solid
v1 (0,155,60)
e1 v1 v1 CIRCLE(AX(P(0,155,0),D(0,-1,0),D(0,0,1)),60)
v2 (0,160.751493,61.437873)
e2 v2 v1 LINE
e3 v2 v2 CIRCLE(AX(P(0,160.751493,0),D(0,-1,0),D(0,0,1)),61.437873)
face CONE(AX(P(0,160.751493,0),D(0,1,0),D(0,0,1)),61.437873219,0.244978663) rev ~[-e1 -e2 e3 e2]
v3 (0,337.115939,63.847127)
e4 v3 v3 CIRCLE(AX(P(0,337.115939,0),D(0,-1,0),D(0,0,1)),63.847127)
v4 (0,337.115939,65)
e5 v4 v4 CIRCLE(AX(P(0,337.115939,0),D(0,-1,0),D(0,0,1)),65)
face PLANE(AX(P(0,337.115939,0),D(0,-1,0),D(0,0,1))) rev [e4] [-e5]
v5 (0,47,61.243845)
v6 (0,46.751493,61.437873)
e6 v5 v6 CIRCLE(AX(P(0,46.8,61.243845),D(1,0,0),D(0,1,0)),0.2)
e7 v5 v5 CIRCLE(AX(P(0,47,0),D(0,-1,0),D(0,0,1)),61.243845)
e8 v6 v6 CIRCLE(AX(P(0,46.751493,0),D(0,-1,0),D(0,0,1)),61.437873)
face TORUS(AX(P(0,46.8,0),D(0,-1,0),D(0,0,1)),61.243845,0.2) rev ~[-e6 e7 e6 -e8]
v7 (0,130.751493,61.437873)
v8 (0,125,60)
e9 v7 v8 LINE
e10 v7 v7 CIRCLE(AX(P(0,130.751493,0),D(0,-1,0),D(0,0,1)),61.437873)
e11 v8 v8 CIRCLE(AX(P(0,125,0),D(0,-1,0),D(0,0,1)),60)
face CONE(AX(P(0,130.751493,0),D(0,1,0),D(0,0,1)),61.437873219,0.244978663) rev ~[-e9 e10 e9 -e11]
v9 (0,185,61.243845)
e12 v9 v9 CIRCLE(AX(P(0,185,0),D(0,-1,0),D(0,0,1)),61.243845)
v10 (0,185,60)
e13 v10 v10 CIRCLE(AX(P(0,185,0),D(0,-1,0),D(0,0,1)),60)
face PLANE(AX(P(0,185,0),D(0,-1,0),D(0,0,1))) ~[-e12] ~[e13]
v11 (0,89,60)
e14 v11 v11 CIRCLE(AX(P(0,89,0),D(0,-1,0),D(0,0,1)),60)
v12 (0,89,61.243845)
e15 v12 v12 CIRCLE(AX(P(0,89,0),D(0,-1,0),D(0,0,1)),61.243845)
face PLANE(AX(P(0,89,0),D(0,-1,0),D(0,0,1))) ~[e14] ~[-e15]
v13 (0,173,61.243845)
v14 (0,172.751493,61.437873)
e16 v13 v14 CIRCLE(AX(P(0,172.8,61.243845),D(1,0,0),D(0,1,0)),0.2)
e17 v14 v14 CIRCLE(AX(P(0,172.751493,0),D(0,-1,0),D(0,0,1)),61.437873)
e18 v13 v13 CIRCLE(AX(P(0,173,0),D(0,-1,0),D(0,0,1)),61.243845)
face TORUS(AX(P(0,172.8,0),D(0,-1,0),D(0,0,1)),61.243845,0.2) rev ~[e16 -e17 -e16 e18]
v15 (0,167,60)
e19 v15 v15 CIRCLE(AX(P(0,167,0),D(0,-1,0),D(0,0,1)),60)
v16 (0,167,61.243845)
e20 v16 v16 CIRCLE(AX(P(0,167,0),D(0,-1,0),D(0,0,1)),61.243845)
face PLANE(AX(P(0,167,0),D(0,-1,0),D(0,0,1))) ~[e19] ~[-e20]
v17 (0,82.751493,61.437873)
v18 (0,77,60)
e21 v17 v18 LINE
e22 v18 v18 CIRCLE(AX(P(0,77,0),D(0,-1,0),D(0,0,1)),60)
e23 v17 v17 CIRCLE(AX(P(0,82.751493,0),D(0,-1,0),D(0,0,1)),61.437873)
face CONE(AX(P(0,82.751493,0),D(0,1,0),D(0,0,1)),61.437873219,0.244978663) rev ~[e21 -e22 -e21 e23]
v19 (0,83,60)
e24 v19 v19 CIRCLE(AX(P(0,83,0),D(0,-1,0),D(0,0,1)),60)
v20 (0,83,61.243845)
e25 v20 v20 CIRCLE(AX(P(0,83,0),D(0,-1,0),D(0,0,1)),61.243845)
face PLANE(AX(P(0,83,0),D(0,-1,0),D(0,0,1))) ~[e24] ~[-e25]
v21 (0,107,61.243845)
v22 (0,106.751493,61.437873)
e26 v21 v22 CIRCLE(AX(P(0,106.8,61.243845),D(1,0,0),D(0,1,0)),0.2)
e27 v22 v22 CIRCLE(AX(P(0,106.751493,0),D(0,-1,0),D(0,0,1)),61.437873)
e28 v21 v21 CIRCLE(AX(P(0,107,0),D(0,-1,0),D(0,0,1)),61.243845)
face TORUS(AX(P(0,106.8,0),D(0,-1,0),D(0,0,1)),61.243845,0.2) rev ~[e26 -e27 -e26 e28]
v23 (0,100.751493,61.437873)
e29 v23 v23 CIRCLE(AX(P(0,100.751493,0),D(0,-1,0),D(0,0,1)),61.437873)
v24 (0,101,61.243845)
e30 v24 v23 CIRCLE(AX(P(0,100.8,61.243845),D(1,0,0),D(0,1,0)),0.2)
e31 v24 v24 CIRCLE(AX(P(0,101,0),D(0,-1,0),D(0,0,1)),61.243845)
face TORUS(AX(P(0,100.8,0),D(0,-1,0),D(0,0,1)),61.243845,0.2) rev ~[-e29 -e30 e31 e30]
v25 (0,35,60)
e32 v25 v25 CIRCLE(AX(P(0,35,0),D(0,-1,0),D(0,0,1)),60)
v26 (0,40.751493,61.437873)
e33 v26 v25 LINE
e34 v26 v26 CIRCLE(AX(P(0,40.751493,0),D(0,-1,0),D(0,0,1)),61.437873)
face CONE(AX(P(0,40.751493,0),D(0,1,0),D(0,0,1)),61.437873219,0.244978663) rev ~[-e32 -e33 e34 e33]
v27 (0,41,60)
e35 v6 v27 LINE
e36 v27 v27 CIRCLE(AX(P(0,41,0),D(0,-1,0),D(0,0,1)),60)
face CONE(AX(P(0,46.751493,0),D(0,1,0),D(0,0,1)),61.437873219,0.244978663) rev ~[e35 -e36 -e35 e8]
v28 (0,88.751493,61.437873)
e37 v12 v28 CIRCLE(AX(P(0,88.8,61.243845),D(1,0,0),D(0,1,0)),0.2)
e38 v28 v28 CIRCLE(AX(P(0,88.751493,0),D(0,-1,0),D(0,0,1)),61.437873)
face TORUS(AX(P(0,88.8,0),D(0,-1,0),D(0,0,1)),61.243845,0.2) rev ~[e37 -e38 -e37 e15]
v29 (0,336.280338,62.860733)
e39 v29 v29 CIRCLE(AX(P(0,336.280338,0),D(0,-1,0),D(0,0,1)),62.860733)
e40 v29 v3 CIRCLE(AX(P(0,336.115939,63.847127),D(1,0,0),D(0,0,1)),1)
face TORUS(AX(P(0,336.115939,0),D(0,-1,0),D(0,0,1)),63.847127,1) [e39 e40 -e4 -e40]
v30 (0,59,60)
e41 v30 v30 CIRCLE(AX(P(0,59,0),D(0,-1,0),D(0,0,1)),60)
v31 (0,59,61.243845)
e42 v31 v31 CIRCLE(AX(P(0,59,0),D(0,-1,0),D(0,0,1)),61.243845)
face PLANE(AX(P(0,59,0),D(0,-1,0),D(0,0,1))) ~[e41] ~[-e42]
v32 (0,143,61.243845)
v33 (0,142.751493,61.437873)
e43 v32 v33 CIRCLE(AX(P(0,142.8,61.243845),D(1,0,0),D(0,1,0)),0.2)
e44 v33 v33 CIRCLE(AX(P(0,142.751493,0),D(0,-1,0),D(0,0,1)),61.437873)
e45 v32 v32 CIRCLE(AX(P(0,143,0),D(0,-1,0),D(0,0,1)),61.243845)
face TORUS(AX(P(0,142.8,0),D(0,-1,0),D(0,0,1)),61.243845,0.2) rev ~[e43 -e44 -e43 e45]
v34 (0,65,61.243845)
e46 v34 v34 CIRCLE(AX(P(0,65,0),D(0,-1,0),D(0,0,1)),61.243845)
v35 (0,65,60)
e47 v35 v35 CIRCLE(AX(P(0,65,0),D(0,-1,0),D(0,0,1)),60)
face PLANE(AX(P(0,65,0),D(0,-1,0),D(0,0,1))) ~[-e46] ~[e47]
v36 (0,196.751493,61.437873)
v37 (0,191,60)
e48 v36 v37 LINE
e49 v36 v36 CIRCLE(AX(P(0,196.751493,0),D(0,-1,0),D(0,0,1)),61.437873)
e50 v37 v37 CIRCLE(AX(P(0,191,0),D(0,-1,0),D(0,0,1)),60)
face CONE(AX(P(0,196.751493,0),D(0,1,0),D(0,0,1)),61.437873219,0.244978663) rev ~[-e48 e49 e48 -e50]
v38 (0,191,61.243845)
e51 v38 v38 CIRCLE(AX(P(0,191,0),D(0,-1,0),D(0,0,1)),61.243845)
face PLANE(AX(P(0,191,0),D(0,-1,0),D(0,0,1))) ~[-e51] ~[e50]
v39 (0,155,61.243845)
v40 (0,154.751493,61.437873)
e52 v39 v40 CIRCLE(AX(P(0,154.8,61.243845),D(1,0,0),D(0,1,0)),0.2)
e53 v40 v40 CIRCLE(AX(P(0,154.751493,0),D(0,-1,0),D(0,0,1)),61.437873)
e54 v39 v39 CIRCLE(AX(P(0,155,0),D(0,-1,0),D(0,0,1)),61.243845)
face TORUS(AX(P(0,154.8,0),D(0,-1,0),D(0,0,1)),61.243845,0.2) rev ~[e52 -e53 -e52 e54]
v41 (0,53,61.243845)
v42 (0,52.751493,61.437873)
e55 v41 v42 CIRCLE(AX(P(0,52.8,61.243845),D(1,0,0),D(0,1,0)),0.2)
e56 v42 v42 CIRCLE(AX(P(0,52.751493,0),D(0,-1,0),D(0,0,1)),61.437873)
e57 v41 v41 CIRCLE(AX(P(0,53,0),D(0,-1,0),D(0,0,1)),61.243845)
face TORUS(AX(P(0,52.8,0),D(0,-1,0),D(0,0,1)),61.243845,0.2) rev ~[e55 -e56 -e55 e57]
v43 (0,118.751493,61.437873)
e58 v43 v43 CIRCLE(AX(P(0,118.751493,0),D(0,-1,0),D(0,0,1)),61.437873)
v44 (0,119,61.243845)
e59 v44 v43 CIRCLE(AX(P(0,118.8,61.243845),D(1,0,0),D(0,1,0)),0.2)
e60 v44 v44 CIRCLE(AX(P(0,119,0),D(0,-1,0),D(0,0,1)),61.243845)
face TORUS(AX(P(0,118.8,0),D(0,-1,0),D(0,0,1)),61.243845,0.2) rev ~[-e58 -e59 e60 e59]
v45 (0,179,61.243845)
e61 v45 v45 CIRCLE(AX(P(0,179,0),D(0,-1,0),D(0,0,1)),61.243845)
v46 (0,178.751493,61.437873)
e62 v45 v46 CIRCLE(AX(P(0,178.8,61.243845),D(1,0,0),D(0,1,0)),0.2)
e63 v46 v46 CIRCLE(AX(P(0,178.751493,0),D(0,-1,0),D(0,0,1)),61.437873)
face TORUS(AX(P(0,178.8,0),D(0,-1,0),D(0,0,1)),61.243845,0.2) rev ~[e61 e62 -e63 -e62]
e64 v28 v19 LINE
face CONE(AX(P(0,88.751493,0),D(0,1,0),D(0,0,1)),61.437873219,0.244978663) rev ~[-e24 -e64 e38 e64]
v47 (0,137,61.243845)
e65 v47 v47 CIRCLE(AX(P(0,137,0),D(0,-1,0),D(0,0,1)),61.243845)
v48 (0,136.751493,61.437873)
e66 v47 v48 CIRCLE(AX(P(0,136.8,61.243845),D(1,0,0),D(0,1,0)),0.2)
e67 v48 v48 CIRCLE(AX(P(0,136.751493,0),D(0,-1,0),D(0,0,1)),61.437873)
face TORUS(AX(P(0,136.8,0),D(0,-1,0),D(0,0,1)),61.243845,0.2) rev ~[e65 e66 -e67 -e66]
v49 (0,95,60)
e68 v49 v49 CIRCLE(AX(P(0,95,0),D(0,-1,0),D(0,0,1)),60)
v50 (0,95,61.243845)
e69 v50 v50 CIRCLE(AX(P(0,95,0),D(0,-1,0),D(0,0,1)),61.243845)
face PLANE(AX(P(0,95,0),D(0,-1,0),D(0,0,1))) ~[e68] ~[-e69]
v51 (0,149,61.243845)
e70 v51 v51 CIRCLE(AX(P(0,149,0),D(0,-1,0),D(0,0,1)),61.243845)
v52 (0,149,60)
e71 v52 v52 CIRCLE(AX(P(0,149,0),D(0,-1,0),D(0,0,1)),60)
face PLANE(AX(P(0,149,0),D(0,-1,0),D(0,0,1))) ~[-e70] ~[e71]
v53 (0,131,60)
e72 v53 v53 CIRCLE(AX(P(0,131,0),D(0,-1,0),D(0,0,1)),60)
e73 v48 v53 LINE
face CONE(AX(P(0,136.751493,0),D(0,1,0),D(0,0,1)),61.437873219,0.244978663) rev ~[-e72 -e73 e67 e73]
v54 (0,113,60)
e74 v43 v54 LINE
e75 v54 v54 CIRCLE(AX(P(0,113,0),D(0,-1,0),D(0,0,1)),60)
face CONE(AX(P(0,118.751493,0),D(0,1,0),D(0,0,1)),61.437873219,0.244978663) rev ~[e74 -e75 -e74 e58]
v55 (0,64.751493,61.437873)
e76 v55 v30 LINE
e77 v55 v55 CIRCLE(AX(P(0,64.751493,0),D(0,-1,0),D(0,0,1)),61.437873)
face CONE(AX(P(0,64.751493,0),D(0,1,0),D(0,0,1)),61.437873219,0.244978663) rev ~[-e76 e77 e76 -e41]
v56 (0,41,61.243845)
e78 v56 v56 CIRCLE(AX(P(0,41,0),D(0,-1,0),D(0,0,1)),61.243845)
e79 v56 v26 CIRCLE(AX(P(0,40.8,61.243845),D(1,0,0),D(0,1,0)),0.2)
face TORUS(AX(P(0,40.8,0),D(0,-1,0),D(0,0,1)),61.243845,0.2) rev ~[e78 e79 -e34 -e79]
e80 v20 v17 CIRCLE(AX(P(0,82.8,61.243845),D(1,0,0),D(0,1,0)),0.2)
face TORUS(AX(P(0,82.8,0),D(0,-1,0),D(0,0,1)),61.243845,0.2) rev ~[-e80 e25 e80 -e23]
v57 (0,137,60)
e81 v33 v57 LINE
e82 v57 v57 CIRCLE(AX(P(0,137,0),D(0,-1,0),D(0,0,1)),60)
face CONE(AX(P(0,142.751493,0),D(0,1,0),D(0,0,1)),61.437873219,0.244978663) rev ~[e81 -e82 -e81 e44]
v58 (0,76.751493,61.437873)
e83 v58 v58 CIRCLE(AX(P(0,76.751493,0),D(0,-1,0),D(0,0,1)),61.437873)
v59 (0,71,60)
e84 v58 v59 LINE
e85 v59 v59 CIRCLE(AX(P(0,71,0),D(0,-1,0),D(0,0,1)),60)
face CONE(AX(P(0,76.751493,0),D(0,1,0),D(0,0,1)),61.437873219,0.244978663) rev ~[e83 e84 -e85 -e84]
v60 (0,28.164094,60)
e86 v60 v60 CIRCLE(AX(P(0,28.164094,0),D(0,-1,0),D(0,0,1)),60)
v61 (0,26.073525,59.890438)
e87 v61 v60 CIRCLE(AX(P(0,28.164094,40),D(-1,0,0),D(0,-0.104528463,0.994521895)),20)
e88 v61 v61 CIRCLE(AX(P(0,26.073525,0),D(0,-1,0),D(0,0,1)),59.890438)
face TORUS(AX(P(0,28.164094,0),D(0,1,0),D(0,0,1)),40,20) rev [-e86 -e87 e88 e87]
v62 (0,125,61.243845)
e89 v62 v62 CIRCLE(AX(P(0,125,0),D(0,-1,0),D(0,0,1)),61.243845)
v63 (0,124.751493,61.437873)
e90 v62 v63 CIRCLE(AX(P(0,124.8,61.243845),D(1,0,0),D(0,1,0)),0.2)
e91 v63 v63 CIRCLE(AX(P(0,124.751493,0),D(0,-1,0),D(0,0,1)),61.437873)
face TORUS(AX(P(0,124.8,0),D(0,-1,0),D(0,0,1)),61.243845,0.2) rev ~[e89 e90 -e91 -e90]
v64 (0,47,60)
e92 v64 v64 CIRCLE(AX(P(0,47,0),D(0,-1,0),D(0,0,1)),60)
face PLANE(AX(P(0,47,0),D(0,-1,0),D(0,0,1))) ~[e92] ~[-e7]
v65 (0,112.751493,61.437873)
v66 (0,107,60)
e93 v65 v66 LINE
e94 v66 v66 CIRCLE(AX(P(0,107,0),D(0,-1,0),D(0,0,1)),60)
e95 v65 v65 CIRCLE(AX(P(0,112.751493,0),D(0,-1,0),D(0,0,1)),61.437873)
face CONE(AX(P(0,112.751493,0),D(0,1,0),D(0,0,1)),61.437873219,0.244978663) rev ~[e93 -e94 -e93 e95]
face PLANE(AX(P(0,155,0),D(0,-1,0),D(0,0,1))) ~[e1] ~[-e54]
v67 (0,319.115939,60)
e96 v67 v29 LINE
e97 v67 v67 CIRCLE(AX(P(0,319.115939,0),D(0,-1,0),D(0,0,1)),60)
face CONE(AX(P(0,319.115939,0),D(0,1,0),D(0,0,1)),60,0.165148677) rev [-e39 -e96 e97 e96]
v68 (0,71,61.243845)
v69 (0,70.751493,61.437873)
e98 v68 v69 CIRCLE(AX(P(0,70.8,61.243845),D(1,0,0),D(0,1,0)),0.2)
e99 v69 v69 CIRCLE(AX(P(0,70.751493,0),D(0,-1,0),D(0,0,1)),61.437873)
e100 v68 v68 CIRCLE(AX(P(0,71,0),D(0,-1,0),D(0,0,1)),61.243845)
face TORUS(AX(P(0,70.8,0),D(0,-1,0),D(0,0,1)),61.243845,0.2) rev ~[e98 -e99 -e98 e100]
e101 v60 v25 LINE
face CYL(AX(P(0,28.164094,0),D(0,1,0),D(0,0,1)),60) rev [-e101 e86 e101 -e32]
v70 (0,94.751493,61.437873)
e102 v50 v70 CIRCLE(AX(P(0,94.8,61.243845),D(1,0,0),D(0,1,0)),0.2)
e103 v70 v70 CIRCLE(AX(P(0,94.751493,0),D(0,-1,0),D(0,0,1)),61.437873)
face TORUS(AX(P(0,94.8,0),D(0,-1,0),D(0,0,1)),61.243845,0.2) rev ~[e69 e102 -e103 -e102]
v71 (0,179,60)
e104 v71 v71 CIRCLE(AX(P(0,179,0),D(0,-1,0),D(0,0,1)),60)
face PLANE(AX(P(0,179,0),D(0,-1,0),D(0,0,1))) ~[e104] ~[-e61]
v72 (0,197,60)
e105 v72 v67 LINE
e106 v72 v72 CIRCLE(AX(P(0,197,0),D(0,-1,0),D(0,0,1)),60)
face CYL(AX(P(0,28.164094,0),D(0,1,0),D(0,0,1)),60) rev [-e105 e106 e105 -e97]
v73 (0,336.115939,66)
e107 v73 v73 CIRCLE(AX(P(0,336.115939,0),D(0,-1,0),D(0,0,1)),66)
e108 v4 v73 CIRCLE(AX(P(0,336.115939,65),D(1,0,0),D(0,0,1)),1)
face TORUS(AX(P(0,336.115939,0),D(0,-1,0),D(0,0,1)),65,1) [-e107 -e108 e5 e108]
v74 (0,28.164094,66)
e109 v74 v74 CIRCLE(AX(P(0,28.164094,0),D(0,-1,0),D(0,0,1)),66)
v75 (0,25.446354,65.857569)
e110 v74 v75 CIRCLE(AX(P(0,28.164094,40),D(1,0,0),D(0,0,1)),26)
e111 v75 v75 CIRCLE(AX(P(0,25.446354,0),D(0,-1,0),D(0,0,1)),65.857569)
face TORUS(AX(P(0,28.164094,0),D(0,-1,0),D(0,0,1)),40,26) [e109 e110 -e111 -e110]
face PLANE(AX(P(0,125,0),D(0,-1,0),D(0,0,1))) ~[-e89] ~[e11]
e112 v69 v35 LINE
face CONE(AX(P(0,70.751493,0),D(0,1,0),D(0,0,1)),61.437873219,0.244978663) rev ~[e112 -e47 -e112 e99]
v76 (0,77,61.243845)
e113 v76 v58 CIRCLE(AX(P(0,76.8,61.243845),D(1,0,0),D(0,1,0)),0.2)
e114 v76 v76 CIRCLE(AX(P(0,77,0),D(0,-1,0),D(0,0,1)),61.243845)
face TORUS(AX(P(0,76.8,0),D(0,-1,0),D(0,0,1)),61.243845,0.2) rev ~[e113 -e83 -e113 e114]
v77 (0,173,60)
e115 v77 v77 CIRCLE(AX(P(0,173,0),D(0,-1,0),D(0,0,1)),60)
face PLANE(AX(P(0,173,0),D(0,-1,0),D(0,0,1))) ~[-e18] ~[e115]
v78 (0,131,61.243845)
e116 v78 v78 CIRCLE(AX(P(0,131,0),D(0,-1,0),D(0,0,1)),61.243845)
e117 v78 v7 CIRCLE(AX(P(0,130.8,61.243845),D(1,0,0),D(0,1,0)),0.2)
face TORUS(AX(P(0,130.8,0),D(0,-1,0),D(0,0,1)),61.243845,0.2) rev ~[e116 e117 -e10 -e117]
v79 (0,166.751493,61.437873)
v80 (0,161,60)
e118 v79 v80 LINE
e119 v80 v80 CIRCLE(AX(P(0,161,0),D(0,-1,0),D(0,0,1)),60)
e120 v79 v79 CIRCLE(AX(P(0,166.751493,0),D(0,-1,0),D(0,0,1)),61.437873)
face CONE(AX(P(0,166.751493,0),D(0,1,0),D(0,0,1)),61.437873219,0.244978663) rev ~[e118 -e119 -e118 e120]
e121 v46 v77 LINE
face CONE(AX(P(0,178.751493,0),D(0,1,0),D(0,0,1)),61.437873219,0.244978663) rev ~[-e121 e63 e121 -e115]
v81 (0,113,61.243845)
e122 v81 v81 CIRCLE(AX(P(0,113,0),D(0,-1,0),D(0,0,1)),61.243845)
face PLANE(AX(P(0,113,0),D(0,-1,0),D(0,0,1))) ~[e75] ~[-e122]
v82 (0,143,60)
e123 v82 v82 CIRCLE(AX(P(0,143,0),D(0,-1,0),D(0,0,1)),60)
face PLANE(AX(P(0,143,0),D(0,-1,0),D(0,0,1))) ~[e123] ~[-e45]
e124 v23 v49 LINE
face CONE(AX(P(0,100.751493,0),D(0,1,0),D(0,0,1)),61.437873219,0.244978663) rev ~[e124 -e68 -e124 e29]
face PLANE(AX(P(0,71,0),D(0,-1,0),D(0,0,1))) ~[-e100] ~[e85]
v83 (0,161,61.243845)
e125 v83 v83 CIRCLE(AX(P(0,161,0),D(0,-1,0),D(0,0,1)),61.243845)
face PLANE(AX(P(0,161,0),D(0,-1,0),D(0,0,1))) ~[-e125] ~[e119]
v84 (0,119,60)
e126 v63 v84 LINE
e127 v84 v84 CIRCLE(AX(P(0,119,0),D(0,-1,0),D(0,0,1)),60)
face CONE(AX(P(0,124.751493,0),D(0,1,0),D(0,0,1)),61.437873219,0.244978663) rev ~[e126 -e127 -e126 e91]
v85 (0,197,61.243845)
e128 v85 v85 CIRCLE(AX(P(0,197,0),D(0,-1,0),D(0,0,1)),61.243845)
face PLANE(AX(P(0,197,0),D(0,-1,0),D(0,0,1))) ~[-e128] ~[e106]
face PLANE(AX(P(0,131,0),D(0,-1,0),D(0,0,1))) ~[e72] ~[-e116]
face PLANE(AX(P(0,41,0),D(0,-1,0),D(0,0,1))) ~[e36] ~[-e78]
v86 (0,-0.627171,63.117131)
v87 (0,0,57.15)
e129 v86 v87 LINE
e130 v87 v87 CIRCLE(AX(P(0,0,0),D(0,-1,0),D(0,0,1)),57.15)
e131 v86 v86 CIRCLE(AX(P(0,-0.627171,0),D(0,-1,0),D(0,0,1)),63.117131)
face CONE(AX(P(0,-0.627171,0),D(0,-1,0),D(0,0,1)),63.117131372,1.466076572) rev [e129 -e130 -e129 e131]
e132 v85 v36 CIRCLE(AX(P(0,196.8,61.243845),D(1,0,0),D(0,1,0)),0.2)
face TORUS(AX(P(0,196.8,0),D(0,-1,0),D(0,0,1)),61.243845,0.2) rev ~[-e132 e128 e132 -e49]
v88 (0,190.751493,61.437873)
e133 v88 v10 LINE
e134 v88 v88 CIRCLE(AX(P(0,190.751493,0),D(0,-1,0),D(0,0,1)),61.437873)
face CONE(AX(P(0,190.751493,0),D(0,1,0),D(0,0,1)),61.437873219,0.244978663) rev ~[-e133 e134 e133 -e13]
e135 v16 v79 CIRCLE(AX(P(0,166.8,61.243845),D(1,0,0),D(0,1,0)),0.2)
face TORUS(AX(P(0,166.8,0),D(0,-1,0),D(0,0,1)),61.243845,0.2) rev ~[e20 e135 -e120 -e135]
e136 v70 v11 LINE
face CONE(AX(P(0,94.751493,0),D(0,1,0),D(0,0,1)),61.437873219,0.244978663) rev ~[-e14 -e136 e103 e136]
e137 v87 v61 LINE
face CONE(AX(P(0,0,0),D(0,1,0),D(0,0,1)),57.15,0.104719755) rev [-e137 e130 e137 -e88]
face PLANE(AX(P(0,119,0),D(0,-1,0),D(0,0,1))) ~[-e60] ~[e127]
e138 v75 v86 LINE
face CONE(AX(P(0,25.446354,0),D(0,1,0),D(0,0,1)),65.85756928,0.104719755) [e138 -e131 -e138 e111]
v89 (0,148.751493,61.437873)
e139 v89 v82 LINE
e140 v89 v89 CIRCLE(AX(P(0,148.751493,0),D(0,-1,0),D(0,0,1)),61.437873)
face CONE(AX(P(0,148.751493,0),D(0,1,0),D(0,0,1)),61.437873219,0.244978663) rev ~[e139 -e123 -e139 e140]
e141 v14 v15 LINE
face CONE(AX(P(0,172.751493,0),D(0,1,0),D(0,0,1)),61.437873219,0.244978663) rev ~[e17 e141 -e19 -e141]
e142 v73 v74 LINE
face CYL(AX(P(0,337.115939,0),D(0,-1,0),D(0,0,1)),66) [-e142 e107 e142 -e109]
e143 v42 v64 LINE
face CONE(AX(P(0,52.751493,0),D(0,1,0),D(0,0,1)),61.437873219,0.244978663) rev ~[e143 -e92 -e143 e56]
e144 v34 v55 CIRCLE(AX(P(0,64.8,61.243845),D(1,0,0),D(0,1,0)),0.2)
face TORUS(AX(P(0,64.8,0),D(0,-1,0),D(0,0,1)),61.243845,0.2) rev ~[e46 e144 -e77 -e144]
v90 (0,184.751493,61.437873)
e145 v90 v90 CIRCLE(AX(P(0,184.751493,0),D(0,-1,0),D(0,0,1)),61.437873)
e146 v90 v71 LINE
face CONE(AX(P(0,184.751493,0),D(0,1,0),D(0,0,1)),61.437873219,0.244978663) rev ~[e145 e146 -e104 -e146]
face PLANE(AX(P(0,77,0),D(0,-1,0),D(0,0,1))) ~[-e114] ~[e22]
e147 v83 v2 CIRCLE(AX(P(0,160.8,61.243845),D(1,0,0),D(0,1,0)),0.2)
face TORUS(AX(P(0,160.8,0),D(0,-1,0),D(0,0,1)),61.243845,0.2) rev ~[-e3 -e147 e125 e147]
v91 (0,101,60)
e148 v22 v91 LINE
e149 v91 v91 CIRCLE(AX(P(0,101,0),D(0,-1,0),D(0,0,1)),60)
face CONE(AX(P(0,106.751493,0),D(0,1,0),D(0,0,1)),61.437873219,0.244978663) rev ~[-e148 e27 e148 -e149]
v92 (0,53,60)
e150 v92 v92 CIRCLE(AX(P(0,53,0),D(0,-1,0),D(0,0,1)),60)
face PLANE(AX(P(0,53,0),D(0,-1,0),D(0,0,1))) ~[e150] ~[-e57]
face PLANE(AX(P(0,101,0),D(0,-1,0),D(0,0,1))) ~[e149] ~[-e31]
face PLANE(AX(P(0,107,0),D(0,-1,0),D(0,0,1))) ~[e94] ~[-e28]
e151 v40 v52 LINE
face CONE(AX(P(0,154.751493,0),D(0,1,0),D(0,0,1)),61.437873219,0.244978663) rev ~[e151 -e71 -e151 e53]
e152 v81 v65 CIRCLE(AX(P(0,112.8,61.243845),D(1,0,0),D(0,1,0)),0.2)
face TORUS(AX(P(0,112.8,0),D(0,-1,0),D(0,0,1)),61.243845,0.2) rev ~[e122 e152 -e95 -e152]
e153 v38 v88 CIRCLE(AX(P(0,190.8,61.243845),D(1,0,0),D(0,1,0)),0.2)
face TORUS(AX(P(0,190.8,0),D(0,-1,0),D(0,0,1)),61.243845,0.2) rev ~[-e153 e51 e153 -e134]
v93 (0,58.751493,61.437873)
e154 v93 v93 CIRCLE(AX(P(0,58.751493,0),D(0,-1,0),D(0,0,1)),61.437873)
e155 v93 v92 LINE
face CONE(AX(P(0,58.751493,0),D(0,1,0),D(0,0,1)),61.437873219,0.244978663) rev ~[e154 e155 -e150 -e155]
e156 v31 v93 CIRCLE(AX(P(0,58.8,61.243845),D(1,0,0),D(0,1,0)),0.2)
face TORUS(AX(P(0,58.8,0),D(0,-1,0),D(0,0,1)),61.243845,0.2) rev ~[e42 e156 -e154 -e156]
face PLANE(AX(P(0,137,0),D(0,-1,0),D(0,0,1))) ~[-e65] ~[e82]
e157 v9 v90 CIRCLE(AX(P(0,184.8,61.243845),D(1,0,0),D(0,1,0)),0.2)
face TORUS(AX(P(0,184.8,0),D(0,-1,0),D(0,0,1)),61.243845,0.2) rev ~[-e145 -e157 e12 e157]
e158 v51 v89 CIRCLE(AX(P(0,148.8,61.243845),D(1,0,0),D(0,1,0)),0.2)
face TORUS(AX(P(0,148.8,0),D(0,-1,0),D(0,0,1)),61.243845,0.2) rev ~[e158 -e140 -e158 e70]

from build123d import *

# Parameters (mm, degrees)
F2_SIZE2 = 3
F2_SIZE  = 18
F3_R     = 1


with BuildPart() as f1:
    # F0 (on Right) → F1 (revolve)
    with BuildSketch(Plane.YZ):
        with BuildLine():
            Line((-0.6271707796, 63.1171313722), (0, 57.15))
            Line((0, 57.15), (26.0735250148, 59.8904379074))
            ThreePointArc((26.0735250148, 59.8904379074), (27.1173751553, 59.9725906951), (28.1640942802, 60))
            Line((28.1640942802, 60), (337.1159386945, 60))
            Line((337.1159386945, 60), (337.1159386945, 66))
            Line((337.1159386945, 66), (28.1640942802, 66))
            ThreePointArc((28.1640942802, 66), (26.8033594179, 65.9643679036), (25.4463542352, 65.8575692796))
            Line((25.4463542352, 65.8575692796), (-0.6271707796, 63.1171313722))
        make_face()
    revolve(axis=Axis((0, 91.946948302, 0), (0, -1, 0)))

    # F2
    f2_edges = [f1.edges().sort_by_distance(p)[0] for p in [
        (0, 337.115939, -60),
    ]]
    chamfer(f2_edges, length=F2_SIZE, length2=F2_SIZE2)

    # F3
    f3_edges = [f1.edges().sort_by_distance(p)[0] for p in [
        (0, 337.115939, -63),
        (0, 337.115939, -66),
    ]]
    fillet(f3_edges, radius=F3_R)

    # F4 (on Right) → F5 (revolve, cut)
    with BuildSketch(Plane.YZ):
        with BuildLine():
            Line((40.751492875, 61.4378732187), (35, 60))
            Line((35, 60), (41, 60))
            Line((41, 60), (41, 61.2438447187))
            ThreePointArc((41, 61.2438447187), (40.9230824419, 61.4014858063), (40.751492875, 61.4378732187))
        make_face()
        with BuildLine():
            Line((196.751492875, 61.4378732187), (191, 60))
            Line((191, 60), (197, 60))
            Line((197, 60), (197, 61.2438447187))
            ThreePointArc((197, 61.2438447187), (196.9230824419, 61.4014858063), (196.751492875, 61.4378732187))
        make_face()
        with BuildLine():
            Line((190.751492875, 61.4378732187), (185, 60))
            Line((185, 60), (191, 60))
            Line((191, 60), (191, 61.2438447187))
            ThreePointArc((191, 61.2438447187), (190.9230824419, 61.4014858063), (190.751492875, 61.4378732187))
        make_face()
        with BuildLine():
            Line((184.751492875, 61.4378732187), (179, 60))
            Line((179, 60), (185, 60))
            Line((185, 60), (185, 61.2438447187))
            ThreePointArc((185, 61.2438447187), (184.9230824419, 61.4014858063), (184.751492875, 61.4378732187))
        make_face()
        with BuildLine():
            Line((178.751492875, 61.4378732187), (173, 60))
            Line((173, 60), (179, 60))
            Line((179, 60), (179, 61.2438447187))
            ThreePointArc((179, 61.2438447187), (178.9230824419, 61.4014858063), (178.751492875, 61.4378732187))
        make_face()
        with BuildLine():
            Line((172.751492875, 61.4378732187), (167, 60))
            Line((167, 60), (173, 60))
            Line((173, 60), (173, 61.2438447187))
            ThreePointArc((173, 61.2438447187), (172.9230824419, 61.4014858063), (172.751492875, 61.4378732187))
        make_face()
        with BuildLine():
            Line((166.751492875, 61.4378732187), (161, 60))
            Line((161, 60), (167, 60))
            Line((167, 60), (167, 61.2438447187))
            ThreePointArc((167, 61.2438447187), (166.9230824419, 61.4014858063), (166.751492875, 61.4378732187))
        make_face()
        with BuildLine():
            Line((160.751492875, 61.4378732187), (155, 60))
            Line((155, 60), (161, 60))
            Line((161, 60), (161, 61.2438447187))
            ThreePointArc((161, 61.2438447187), (160.9230824419, 61.4014858063), (160.751492875, 61.4378732187))
        make_face()
        with BuildLine():
            Line((154.751492875, 61.4378732187), (149, 60))
            Line((149, 60), (155, 60))
            Line((155, 60), (155, 61.2438447187))
            ThreePointArc((155, 61.2438447187), (154.9230824419, 61.4014858063), (154.751492875, 61.4378732187))
        make_face()
        with BuildLine():
            Line((148.751492875, 61.4378732187), (143, 60))
            Line((143, 60), (149, 60))
            Line((149, 60), (149, 61.2438447187))
            ThreePointArc((149, 61.2438447187), (148.9230824419, 61.4014858063), (148.751492875, 61.4378732187))
        make_face()
        with BuildLine():
            Line((142.751492875, 61.4378732187), (137, 60))
            Line((137, 60), (143, 60))
            Line((143, 60), (143, 61.2438447187))
            ThreePointArc((143, 61.2438447187), (142.9230824419, 61.4014858063), (142.751492875, 61.4378732187))
        make_face()
        with BuildLine():
            Line((136.751492875, 61.4378732187), (131, 60))
            Line((131, 60), (137, 60))
            Line((137, 60), (137, 61.2438447187))
            ThreePointArc((137, 61.2438447187), (136.9230824419, 61.4014858063), (136.751492875, 61.4378732187))
        make_face()
        with BuildLine():
            Line((130.751492875, 61.4378732187), (125, 60))
            Line((125, 60), (131, 60))
            Line((131, 60), (131, 61.2438447187))
            ThreePointArc((131, 61.2438447187), (130.9230824419, 61.4014858063), (130.751492875, 61.4378732187))
        make_face()
        with BuildLine():
            Line((124.751492875, 61.4378732187), (119, 60))
            Line((119, 60), (125, 60))
            Line((125, 60), (125, 61.2438447187))
            ThreePointArc((125, 61.2438447187), (124.9230824419, 61.4014858063), (124.751492875, 61.4378732187))
        make_face()
        with BuildLine():
            Line((118.751492875, 61.4378732187), (113, 60))
            Line((113, 60), (119, 60))
            Line((119, 60), (119, 61.2438447187))
            ThreePointArc((119, 61.2438447187), (118.9230824419, 61.4014858063), (118.751492875, 61.4378732187))
        make_face()
        with BuildLine():
            Line((112.751492875, 61.4378732187), (107, 60))
            Line((107, 60), (113, 60))
            Line((113, 60), (113, 61.2438447187))
            ThreePointArc((113, 61.2438447187), (112.9230824419, 61.4014858063), (112.751492875, 61.4378732187))
        make_face()
        with BuildLine():
            Line((106.751492875, 61.4378732187), (101, 60))
            Line((101, 60), (107, 60))
            Line((107, 60), (107, 61.2438447187))
            ThreePointArc((107, 61.2438447187), (106.9230824419, 61.4014858063), (106.751492875, 61.4378732187))
        make_face()
        with BuildLine():
            Line((100.751492875, 61.4378732187), (95, 60))
            Line((95, 60), (101, 60))
            Line((101, 60), (101, 61.2438447187))
            ThreePointArc((101, 61.2438447187), (100.9230824419, 61.4014858063), (100.751492875, 61.4378732187))
        make_face()
        with BuildLine():
            Line((94.751492875, 61.4378732187), (89, 60))
            Line((89, 60), (95, 60))
            Line((95, 60), (95, 61.2438447187))
            ThreePointArc((95, 61.2438447187), (94.9230824419, 61.4014858063), (94.751492875, 61.4378732187))
        make_face()
        with BuildLine():
            Line((88.751492875, 61.4378732187), (83, 60))
            Line((83, 60), (89, 60))
            Line((89, 60), (89, 61.2438447187))
            ThreePointArc((89, 61.2438447187), (88.9230824419, 61.4014858063), (88.751492875, 61.4378732187))
        make_face()
        with BuildLine():
            Line((82.751492875, 61.4378732187), (77, 60))
            Line((77, 60), (83, 60))
            Line((83, 60), (83, 61.2438447187))
            ThreePointArc((83, 61.2438447187), (82.9230824419, 61.4014858063), (82.751492875, 61.4378732187))
        make_face()
        with BuildLine():
            Line((76.751492875, 61.4378732187), (71, 60))
            Line((71, 60), (77, 60))
            Line((77, 60), (77, 61.2438447187))
            ThreePointArc((77, 61.2438447187), (76.9230824419, 61.4014858063), (76.751492875, 61.4378732187))
        make_face()
        with BuildLine():
            Line((70.751492875, 61.4378732187), (65, 60))
            Line((65, 60), (71, 60))
            Line((71, 60), (71, 61.2438447187))
            ThreePointArc((71, 61.2438447187), (70.9230824419, 61.4014858063), (70.751492875, 61.4378732187))
        make_face()
        with BuildLine():
            Line((64.751492875, 61.4378732187), (59, 60))
            Line((59, 60), (65, 60))
            Line((65, 60), (65, 61.2438447187))
            ThreePointArc((65, 61.2438447187), (64.9230824419, 61.4014858063), (64.751492875, 61.4378732187))
        make_face()
        with BuildLine():
            Line((58.751492875, 61.4378732187), (53, 60))
            Line((53, 60), (59, 60))
            Line((59, 60), (59, 61.2438447187))
            ThreePointArc((59, 61.2438447187), (58.9230824419, 61.4014858063), (58.751492875, 61.4378732187))
        make_face()
        with BuildLine():
            Line((52.751492875, 61.4378732187), (47, 60))
            Line((47, 60), (53, 60))
            Line((53, 60), (53, 61.2438447187))
            ThreePointArc((53, 61.2438447187), (52.9230824419, 61.4014858063), (52.751492875, 61.4378732187))
        make_face()
        with BuildLine():
            Line((46.751492875, 61.4378732187), (41, 60))
            Line((41, 60), (47, 60))
            Line((47, 60), (47, 61.2438447187))
            ThreePointArc((47, 61.2438447187), (46.9230824419, 61.4014858063), (46.751492875, 61.4378732187))
        make_face()
    revolve(axis=Axis((0, 52.6040179618, 0), (0, -1, 0)), mode=Mode.SUBTRACT)


solid = f1.part
